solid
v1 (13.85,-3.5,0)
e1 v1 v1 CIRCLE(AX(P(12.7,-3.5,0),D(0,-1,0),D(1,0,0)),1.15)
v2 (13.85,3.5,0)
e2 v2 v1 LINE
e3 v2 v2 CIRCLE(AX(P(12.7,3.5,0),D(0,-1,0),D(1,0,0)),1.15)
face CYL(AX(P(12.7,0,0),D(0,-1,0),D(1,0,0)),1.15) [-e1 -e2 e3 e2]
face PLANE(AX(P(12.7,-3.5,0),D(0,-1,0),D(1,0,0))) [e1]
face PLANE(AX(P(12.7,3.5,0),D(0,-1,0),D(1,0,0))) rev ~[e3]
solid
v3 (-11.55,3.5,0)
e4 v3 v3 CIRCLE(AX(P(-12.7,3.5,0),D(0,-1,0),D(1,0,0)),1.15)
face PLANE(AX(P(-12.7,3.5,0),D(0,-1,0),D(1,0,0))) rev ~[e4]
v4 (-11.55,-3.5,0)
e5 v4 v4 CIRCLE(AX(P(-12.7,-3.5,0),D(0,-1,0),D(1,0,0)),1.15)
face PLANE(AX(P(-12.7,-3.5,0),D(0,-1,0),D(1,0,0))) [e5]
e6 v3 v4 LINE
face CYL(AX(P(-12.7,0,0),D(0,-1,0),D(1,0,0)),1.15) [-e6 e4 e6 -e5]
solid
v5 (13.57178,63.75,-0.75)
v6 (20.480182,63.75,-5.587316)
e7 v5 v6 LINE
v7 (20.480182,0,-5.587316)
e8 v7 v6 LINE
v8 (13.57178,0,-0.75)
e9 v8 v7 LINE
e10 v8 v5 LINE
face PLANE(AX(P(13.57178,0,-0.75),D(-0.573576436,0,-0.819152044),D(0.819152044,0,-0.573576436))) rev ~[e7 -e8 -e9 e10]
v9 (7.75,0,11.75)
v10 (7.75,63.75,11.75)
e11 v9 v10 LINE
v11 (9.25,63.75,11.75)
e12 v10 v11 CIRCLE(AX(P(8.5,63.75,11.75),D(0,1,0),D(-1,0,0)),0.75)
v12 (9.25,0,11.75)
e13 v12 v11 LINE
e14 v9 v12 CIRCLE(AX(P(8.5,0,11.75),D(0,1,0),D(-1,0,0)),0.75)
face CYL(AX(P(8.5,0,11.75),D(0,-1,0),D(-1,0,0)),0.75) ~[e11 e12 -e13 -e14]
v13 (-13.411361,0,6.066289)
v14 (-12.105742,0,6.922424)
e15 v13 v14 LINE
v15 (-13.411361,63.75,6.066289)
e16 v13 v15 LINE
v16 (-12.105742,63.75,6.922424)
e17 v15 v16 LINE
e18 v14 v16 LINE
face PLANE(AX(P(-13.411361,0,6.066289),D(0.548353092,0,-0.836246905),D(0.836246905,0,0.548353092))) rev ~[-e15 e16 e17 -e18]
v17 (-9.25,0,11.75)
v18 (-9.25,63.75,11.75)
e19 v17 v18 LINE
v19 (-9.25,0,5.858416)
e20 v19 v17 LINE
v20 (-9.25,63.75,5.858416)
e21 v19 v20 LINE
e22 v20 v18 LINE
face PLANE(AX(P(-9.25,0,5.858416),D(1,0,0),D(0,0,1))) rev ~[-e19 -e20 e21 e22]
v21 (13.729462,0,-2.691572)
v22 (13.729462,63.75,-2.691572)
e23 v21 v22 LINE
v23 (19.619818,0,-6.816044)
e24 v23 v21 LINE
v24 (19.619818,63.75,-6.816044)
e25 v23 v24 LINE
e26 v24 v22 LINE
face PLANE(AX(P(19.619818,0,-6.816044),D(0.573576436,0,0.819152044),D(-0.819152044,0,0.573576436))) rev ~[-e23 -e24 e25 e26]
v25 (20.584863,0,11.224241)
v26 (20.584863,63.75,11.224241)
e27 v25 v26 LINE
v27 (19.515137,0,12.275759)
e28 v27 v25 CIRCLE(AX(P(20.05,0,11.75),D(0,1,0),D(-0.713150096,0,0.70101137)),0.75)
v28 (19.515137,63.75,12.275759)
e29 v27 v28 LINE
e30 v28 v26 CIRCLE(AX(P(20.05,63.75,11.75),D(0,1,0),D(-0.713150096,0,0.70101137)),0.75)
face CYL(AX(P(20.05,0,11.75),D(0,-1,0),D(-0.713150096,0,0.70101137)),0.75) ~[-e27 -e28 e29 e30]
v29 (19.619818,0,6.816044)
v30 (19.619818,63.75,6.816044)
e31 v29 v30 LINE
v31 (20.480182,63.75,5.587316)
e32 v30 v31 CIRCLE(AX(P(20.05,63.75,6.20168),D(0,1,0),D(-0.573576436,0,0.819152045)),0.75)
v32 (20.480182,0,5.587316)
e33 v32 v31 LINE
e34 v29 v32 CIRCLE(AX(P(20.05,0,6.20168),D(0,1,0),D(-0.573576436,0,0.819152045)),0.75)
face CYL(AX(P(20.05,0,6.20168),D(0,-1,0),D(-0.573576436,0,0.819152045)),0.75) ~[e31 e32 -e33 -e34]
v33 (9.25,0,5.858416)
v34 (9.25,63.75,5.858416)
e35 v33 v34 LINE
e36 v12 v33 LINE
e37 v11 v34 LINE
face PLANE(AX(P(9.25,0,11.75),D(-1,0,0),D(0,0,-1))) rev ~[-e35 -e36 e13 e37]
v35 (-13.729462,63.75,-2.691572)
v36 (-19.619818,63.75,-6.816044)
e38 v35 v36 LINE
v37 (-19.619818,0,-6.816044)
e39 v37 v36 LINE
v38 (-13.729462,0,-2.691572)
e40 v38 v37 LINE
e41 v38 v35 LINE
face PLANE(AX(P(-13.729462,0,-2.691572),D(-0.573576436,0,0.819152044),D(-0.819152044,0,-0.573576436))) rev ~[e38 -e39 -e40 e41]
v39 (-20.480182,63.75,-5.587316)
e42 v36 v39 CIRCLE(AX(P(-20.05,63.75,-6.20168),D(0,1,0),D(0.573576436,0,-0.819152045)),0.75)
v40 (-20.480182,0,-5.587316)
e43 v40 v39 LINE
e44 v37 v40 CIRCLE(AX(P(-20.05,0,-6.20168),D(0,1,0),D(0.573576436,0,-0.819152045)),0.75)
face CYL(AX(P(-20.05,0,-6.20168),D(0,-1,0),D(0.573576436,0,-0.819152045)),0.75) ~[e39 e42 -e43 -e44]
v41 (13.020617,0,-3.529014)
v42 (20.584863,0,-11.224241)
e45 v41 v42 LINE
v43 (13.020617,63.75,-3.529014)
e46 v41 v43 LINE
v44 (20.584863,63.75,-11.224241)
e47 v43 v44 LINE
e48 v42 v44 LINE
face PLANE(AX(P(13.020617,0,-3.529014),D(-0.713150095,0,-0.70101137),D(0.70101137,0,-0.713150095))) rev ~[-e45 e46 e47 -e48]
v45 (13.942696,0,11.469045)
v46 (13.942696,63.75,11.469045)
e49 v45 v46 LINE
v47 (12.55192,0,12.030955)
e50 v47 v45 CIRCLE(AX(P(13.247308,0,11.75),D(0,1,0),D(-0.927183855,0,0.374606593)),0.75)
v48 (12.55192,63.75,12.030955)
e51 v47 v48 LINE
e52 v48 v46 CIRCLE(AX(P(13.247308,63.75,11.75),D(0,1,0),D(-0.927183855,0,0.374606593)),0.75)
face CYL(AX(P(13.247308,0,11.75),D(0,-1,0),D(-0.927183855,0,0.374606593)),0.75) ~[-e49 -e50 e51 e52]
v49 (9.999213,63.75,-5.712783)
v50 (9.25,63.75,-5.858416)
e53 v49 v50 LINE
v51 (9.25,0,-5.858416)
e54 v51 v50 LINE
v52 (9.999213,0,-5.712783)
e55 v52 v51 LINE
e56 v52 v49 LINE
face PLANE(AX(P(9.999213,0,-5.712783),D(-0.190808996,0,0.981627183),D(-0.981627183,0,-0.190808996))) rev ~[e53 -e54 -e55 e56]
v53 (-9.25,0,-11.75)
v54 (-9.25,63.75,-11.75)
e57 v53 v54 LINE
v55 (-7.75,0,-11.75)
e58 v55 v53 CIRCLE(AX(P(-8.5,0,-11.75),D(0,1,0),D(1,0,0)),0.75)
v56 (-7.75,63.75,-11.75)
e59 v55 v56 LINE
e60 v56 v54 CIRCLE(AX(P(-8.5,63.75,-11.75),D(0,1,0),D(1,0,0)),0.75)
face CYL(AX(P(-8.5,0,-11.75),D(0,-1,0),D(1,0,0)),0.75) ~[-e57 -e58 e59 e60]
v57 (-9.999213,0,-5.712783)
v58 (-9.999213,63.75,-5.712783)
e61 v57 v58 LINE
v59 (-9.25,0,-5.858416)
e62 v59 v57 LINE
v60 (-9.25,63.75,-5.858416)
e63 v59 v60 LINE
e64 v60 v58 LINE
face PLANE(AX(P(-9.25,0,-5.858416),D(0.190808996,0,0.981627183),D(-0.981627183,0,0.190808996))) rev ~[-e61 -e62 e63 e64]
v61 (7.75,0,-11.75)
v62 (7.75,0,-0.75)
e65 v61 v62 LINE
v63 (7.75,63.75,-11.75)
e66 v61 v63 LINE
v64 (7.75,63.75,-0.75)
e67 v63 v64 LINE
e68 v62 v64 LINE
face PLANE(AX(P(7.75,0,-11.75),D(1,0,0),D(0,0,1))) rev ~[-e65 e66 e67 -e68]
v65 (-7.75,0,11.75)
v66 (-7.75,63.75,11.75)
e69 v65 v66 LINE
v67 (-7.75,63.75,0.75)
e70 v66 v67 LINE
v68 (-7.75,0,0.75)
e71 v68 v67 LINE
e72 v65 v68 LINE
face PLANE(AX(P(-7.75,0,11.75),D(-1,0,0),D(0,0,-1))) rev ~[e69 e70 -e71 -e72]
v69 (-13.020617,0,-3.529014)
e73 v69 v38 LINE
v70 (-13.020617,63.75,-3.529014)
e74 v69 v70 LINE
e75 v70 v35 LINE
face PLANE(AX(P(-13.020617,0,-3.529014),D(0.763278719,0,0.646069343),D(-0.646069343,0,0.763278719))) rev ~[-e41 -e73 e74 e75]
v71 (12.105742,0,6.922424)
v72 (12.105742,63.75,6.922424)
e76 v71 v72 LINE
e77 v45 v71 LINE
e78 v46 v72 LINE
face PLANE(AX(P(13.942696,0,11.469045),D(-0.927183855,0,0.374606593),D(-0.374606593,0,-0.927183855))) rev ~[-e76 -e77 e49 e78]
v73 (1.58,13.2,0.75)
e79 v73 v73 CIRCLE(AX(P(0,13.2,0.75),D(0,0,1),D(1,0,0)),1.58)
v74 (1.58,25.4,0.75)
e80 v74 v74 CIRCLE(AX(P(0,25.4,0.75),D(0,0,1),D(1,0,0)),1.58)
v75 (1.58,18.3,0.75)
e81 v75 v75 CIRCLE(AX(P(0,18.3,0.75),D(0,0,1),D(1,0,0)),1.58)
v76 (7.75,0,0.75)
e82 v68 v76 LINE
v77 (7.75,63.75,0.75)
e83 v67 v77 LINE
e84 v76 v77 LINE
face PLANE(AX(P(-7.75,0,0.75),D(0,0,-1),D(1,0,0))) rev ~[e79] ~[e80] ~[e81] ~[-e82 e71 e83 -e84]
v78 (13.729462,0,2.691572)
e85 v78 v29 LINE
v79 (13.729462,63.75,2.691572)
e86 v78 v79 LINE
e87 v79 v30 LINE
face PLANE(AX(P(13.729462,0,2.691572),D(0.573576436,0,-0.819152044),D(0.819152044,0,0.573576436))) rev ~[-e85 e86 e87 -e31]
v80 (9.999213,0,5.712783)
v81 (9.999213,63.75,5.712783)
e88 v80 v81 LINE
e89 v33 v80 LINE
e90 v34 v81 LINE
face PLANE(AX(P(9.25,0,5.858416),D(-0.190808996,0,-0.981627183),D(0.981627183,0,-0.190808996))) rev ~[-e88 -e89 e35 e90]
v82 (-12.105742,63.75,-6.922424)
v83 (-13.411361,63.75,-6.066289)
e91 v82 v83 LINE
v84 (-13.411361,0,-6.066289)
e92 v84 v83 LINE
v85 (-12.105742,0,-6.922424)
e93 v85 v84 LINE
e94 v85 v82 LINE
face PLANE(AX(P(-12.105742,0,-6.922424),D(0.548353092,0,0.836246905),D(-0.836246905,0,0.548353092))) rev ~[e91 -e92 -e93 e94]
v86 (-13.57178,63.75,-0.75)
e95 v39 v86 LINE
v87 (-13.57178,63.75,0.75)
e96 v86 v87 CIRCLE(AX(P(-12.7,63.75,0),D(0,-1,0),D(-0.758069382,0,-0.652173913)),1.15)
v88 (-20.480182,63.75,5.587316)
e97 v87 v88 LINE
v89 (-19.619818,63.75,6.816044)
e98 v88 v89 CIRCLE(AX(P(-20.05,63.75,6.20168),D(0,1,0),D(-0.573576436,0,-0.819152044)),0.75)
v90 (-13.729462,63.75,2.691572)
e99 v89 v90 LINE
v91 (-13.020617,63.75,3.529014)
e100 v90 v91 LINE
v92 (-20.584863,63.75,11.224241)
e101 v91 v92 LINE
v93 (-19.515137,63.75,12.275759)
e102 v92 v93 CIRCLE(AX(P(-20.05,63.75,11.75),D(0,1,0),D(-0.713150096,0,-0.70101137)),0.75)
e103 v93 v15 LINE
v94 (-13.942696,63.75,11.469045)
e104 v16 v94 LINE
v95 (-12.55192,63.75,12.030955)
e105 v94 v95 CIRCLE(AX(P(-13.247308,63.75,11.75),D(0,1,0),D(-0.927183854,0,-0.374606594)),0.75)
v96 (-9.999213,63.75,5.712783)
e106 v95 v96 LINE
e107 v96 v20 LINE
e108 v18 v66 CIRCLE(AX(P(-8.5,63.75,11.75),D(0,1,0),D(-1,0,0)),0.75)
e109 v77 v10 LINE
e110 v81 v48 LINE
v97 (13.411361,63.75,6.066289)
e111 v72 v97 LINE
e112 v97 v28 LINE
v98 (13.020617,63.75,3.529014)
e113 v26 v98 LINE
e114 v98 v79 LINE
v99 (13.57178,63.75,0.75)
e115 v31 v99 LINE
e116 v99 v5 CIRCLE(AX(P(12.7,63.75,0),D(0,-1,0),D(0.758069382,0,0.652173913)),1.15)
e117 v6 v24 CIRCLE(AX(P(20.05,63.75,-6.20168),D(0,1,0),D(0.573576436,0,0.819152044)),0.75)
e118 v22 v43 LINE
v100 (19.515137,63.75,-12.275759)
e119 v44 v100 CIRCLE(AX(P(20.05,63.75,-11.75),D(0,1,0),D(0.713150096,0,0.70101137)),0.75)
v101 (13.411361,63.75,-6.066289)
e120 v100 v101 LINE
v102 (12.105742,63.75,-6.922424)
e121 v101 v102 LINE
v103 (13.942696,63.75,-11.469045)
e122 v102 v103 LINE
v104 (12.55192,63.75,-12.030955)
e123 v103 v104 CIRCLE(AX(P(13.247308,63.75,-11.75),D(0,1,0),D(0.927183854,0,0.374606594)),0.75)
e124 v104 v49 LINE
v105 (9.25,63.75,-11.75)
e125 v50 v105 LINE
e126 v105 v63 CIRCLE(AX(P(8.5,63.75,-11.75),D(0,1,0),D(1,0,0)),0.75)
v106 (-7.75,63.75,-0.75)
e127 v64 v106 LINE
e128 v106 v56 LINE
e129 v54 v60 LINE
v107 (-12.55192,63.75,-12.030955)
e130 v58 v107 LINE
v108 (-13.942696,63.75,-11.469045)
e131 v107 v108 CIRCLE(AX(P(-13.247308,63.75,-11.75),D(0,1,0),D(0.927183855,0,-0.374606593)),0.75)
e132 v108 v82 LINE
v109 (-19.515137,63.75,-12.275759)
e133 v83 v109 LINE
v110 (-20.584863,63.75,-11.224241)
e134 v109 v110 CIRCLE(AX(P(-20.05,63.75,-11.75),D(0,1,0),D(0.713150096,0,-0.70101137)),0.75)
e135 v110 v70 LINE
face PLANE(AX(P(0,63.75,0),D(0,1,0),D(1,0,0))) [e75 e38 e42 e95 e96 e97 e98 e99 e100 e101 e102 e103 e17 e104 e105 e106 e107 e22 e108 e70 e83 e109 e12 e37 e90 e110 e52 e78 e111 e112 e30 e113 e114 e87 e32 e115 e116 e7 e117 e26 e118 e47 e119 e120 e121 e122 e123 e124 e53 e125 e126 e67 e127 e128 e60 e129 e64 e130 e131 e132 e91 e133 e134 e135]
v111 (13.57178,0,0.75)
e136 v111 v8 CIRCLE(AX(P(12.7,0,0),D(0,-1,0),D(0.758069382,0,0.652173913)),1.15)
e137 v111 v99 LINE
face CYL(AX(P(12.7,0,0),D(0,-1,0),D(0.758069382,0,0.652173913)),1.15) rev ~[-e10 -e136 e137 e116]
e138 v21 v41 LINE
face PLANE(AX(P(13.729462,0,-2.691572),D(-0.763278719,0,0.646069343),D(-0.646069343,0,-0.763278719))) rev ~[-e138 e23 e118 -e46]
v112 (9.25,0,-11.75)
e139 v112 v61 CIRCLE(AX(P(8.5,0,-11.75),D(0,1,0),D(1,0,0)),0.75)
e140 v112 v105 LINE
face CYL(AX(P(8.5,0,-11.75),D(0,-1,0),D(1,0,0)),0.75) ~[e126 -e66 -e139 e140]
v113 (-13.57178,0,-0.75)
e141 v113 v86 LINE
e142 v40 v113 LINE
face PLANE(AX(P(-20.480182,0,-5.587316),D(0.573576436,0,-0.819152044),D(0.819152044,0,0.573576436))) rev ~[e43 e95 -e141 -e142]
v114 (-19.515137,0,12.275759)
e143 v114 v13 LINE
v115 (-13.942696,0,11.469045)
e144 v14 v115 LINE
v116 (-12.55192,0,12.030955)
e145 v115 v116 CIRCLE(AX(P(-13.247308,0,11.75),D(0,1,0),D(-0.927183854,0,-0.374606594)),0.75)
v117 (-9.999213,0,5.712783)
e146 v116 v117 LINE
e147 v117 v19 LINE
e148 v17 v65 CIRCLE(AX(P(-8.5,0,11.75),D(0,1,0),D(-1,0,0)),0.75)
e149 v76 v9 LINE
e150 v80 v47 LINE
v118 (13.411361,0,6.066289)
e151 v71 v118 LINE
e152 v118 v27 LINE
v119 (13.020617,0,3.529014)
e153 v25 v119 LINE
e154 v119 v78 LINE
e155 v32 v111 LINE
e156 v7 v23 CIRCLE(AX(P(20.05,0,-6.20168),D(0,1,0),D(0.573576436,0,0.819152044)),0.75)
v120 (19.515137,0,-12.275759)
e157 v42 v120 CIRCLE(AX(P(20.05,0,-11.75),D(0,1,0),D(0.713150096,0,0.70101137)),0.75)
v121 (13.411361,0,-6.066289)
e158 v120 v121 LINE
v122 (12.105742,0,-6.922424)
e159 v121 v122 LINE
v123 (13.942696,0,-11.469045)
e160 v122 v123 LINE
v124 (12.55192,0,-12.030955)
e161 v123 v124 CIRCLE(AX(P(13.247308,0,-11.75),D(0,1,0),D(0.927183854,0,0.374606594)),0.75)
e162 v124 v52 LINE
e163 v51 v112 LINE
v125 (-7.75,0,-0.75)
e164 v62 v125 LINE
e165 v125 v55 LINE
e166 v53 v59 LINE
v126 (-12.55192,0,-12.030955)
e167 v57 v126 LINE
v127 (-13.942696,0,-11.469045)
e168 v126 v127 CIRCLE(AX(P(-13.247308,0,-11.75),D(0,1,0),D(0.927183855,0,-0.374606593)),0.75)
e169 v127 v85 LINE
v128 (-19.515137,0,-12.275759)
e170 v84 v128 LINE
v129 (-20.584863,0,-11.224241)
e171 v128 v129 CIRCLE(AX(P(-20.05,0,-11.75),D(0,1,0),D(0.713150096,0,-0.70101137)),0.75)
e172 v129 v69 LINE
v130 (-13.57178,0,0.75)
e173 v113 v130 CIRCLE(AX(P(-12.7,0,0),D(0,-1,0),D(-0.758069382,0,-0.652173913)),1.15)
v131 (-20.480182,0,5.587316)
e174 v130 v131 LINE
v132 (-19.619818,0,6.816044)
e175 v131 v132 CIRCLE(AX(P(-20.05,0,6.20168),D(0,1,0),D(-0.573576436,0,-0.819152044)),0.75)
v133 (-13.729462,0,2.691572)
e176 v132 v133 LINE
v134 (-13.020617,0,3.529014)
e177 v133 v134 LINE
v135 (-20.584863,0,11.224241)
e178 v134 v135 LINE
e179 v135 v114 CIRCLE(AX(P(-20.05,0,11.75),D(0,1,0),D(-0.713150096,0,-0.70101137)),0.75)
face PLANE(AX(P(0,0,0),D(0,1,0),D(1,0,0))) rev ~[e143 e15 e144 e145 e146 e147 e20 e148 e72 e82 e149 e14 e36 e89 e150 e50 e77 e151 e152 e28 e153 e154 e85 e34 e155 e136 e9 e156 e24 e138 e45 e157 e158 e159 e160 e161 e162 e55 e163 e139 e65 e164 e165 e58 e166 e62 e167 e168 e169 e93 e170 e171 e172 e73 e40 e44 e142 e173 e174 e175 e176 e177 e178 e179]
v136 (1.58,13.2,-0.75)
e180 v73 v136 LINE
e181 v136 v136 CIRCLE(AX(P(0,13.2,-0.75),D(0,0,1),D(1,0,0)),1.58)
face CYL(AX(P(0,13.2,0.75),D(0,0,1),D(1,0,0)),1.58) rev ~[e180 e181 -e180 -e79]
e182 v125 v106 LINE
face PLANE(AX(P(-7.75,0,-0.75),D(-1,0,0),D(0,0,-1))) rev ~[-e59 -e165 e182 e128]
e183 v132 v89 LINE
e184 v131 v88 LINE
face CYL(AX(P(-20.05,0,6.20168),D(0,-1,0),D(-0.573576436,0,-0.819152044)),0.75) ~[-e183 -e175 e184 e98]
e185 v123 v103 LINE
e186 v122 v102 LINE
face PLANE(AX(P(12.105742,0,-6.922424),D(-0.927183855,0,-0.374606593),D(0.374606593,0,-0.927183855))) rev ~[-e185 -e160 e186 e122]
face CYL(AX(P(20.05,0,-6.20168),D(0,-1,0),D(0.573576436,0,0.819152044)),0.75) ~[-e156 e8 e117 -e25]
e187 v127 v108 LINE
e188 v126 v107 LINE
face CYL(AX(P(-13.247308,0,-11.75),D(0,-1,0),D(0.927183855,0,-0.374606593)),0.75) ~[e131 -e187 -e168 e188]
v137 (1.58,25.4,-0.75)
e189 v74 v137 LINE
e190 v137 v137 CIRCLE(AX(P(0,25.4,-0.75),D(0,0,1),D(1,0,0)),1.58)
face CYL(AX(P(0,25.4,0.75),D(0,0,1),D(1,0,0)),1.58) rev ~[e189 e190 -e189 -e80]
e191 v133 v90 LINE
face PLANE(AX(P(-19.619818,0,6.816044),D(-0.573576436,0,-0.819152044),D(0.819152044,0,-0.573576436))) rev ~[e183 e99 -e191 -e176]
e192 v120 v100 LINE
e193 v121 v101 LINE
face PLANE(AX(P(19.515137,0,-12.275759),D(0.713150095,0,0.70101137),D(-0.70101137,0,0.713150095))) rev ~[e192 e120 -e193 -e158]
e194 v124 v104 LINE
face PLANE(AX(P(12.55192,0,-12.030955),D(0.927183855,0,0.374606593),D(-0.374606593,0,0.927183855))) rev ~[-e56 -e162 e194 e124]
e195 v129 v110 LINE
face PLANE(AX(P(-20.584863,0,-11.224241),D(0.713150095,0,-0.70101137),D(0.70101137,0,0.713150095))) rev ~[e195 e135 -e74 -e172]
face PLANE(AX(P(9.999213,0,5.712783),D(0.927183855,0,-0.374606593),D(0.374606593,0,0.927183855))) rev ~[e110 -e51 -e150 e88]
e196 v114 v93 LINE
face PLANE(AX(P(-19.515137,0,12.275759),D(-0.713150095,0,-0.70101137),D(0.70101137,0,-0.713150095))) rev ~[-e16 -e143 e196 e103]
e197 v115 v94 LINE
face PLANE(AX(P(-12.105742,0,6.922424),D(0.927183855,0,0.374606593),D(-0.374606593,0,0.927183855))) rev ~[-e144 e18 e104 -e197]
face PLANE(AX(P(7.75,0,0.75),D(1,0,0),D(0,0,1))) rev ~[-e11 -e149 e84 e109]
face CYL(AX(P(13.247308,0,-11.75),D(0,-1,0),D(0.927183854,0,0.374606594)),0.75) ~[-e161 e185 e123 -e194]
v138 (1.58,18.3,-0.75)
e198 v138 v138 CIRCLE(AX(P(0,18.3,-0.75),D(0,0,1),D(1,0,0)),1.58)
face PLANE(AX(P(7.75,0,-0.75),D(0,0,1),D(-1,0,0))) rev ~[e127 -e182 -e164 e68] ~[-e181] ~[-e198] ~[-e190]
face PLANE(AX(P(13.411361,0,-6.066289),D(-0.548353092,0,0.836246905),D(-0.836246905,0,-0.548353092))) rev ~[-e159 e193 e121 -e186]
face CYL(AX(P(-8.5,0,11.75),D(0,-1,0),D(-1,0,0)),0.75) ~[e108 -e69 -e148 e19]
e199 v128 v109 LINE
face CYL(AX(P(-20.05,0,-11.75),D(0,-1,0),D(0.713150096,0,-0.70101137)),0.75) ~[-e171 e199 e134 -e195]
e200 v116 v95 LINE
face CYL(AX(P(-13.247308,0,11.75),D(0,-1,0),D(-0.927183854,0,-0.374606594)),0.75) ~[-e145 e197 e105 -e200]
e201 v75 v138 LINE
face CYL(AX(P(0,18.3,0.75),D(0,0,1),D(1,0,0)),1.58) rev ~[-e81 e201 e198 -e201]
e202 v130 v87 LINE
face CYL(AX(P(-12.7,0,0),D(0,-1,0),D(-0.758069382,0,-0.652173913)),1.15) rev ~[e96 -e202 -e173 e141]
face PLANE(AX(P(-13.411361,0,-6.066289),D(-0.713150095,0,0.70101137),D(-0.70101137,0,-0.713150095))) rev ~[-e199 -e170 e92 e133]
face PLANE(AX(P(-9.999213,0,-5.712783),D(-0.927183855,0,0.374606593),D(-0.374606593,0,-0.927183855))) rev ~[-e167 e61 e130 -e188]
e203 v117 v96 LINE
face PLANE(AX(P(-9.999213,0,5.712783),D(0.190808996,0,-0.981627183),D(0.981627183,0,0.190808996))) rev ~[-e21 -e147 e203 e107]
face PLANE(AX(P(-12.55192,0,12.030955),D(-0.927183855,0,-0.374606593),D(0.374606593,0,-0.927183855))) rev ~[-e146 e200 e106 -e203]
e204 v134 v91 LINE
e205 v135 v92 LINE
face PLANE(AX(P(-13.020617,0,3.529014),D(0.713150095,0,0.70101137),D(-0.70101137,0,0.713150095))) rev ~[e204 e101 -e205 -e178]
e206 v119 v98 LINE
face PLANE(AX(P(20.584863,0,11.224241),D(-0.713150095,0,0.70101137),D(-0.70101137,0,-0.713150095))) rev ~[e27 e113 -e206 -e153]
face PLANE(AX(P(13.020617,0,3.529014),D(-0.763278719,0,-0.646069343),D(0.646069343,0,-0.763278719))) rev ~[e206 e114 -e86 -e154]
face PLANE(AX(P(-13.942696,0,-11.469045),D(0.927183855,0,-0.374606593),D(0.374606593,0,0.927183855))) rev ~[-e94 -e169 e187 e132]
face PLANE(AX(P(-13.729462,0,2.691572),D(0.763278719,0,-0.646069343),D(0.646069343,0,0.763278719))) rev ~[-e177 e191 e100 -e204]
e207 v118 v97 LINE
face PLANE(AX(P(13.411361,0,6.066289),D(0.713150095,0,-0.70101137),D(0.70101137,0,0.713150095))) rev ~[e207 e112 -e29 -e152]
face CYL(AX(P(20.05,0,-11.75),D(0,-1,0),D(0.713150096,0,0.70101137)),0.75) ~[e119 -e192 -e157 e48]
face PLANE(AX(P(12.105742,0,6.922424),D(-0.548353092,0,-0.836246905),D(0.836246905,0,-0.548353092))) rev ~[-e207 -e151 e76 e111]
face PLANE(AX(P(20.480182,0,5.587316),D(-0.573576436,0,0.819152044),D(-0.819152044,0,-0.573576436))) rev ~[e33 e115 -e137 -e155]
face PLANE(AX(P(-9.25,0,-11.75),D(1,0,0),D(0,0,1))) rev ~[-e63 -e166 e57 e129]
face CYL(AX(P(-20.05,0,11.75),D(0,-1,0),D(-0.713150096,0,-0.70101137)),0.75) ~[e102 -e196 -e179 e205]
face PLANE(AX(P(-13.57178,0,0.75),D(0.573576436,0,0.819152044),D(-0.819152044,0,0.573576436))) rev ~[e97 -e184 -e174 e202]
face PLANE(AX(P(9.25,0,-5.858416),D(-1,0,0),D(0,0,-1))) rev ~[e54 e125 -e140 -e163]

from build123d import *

# Parameters (mm, degrees)
BOSS_EXTRUDE1_DEPTH        = 63.75
CUT_EXTRUDE1_REACH         = 15.25
SKETCH2_R                  = 1.58
SKETCH3_R                  = 1.15
BOSS_EXTRUDE2_DEPTH        = 3.5
BOSS_EXTRUDE2_DEPTH_BACK   = 3.5
BOSS_EXTRUDE2_2_DEPTH      = 3.5
BOSS_EXTRUDE2_2_DEPTH_BACK = 3.5


with BuildPart() as part:
    # Sketch1 → Boss-Extrude1 (new body)
    with BuildSketch(Plane(origin=(0, 0, 0), x_dir=(1, 0, 0), z_dir=(0, 1, 0))):
        with BuildLine():
            Line((7.75, 11.75), (7.75, 0.75))
            Line((7.75, 0.75), (-7.75, 0.75))
            Line((-7.75, 0.75), (-7.75, 11.75))
            ThreePointArc((-7.75, 11.75), (-8.5, 12.5), (-9.25, 11.75))
            Line((-9.25, 11.75), (-9.25, 5.858415512))
            Line((-9.25, 5.858415512), (-9.999213187, 5.712783221))
            Line((-9.999213187, 5.712783221), (-12.551920263, 12.030954945))
            ThreePointArc((-12.551920263, 12.030954945), (-13.528263099, 12.445387891), (-13.942696044, 11.469045055))
            Line((-13.942696044, 11.469045055), (-12.10574193, 6.922424076))
            Line((-12.10574193, 6.922424076), (-13.411361038, 6.06628904))
            Line((-13.411361038, 6.06628904), (-19.515137428, 12.275758528))
            ThreePointArc((-19.515137428, 12.275758528), (-20.575758528, 12.284862572), (-20.584862572, 11.224241472))
            Line((-20.584862572, 11.224241472), (-13.020617465, 3.529013766))
            Line((-13.020617465, 3.529013766), (-13.729461508, 2.691571812))
            Line((-13.729461508, 2.691571812), (-19.619817673, 6.816043601))
            ThreePointArc((-19.619817673, 6.816043601), (-20.664364033, 6.631861895), (-20.480182327, 5.587315534))
            Line((-20.480182327, 5.587315534), (-13.571779789, 0.75))
            ThreePointArc((-13.571779789, 0.75), (-11.55, 0), (-13.571779789, -0.75))
            Line((-13.571779789, -0.75), (-20.480182327, -5.587315534))
            ThreePointArc((-20.480182327, -5.587315534), (-20.664364033, -6.631861895), (-19.619817673, -6.816043601))
            Line((-19.619817673, -6.816043601), (-13.729461508, -2.691571812))
            Line((-13.729461508, -2.691571812), (-13.020617465, -3.529013766))
            Line((-13.020617465, -3.529013766), (-20.584862572, -11.224241472))
            ThreePointArc((-20.584862572, -11.224241472), (-20.575758528, -12.284862572), (-19.515137428, -12.275758528))
            Line((-19.515137428, -12.275758528), (-13.411361038, -6.06628904))
            Line((-13.411361038, -6.06628904), (-12.10574193, -6.922424076))
            Line((-12.10574193, -6.922424076), (-13.942696044, -11.469045055))
            ThreePointArc((-13.942696044, -11.469045055), (-13.528263099, -12.445387891), (-12.551920263, -12.030954945))
            Line((-12.551920263, -12.030954945), (-9.999213187, -5.712783221))
            Line((-9.999213187, -5.712783221), (-9.25, -5.858415512))
            Line((-9.25, -5.858415512), (-9.25, -11.75))
            ThreePointArc((-9.25, -11.75), (-8.5, -12.5), (-7.75, -11.75))
            Line((-7.75, -11.75), (-7.75, -0.75))
            Line((-7.75, -0.75), (7.75, -0.75))
            Line((7.75, -0.75), (7.75, -11.75))
            ThreePointArc((7.75, -11.75), (8.5, -12.5), (9.25, -11.75))
            Line((9.25, -11.75), (9.25, -5.858415512))
            Line((9.25, -5.858415512), (9.999213187, -5.712783221))
            Line((9.999213187, -5.712783221), (12.551920263, -12.030954945))
            ThreePointArc((12.551920263, -12.030954945), (13.528263099, -12.445387891), (13.942696044, -11.469045055))
            Line((13.942696044, -11.469045055), (12.10574193, -6.922424076))
            Line((12.10574193, -6.922424076), (13.411361038, -6.06628904))
            Line((13.411361038, -6.06628904), (19.515137428, -12.275758528))
            ThreePointArc((19.515137428, -12.275758528), (20.575758528, -12.284862572), (20.584862572, -11.224241472))
            Line((20.584862572, -11.224241472), (13.020617465, -3.529013766))
            Line((13.020617465, -3.529013766), (13.729461508, -2.691571812))
            Line((13.729461508, -2.691571812), (19.619817673, -6.816043601))
            ThreePointArc((19.619817673, -6.816043601), (20.664364033, -6.631861895), (20.480182327, -5.587315534))
            Line((20.480182327, -5.587315534), (13.571779789, -0.75))
            ThreePointArc((13.571779789, -0.75), (11.55, 0), (13.571779789, 0.75))
            Line((13.571779789, 0.75), (20.480182327, 5.587315534))
            ThreePointArc((20.480182327, 5.587315534), (20.664364033, 6.631861895), (19.619817673, 6.816043601))
            Line((19.619817673, 6.816043601), (13.729461508, 2.691571812))
            Line((13.729461508, 2.691571812), (13.020617465, 3.529013766))
            Line((13.020617465, 3.529013766), (20.584862572, 11.224241472))
            ThreePointArc((20.584862572, 11.224241472), (20.575758528, 12.284862572), (19.515137428, 12.275758528))
            Line((19.515137428, 12.275758528), (13.411361038, 6.06628904))
            Line((13.411361038, 6.06628904), (12.10574193, 6.922424076))
            Line((12.10574193, 6.922424076), (13.942696044, 11.469045055))
            ThreePointArc((13.942696044, 11.469045055), (13.528263099, 12.445387891), (12.551920263, 12.030954945))
            Line((12.551920263, 12.030954945), (9.999213187, 5.712783221))
            Line((9.999213187, 5.712783221), (9.25, 5.858415512))
            Line((9.25, 5.858415512), (9.25, 11.75))
            ThreePointArc((9.25, 11.75), (8.5, 12.5), (7.75, 11.75))
        make_face()
    extrude(amount=BOSS_EXTRUDE1_DEPTH)

    # Sketch2 → Cut-Extrude1 (cut, up to next)
    with BuildSketch(Plane.XY.offset(0.75), mode=Mode.PRIVATE) as cut_extrude1_sk1:
        with Locations((0, 13.2)):
            Circle(SKETCH2_R)
    cut_extrude1_tool1 = extrude(cut_extrude1_sk1.sketch, amount=-CUT_EXTRUDE1_REACH, mode=Mode.PRIVATE) & part.part
    add(cut_extrude1_tool1.solids().sort_by_distance((0, 13.2, 0.75))[0], mode=Mode.SUBTRACT)
    # Sketch2 → Cut-Extrude1 (cut, up to next)
    with BuildSketch(Plane.XY.offset(0.75), mode=Mode.PRIVATE) as cut_extrude1_sk2:
        with Locations((0, 18.3)):
            Circle(SKETCH2_R)
    cut_extrude1_tool2 = extrude(cut_extrude1_sk2.sketch, amount=-CUT_EXTRUDE1_REACH, mode=Mode.PRIVATE) & part.part
    add(cut_extrude1_tool2.solids().sort_by_distance((0, 18.3, 0.75))[0], mode=Mode.SUBTRACT)
    # Sketch2 → Cut-Extrude1 (cut, up to next)
    with BuildSketch(Plane.XY.offset(0.75), mode=Mode.PRIVATE) as cut_extrude1_sk3:
        with Locations((0, 25.4)):
            Circle(SKETCH2_R)
    cut_extrude1_tool3 = extrude(cut_extrude1_sk3.sketch, amount=-CUT_EXTRUDE1_REACH, mode=Mode.PRIVATE) & part.part
    add(cut_extrude1_tool3.solids().sort_by_distance((0, 25.4, 0.75))[0], mode=Mode.SUBTRACT)


with BuildPart() as body_2:
    # Sketch3 → Boss-Extrude2 (new body, two sides)
    with BuildSketch(Plane.XZ) as boss_extrude2_sk:
        with Locations((-12.7, 0)):
            Circle(SKETCH3_R)
    extrude(amount=BOSS_EXTRUDE2_DEPTH)
    extrude(boss_extrude2_sk.sketch, amount=-BOSS_EXTRUDE2_DEPTH_BACK)


with BuildPart() as body_3:
    # Sketch3 → Boss-Extrude2 2 (new body, two sides)
    with BuildSketch(Plane.XZ) as boss_extrude2_2_sk:
        with Locations((12.7, 0)):
            Circle(SKETCH3_R)
    extrude(amount=BOSS_EXTRUDE2_2_DEPTH)
    extrude(boss_extrude2_2_sk.sketch, amount=-BOSS_EXTRUDE2_2_DEPTH_BACK)


solid = Compound([part.part, body_2.part, body_3.part])
